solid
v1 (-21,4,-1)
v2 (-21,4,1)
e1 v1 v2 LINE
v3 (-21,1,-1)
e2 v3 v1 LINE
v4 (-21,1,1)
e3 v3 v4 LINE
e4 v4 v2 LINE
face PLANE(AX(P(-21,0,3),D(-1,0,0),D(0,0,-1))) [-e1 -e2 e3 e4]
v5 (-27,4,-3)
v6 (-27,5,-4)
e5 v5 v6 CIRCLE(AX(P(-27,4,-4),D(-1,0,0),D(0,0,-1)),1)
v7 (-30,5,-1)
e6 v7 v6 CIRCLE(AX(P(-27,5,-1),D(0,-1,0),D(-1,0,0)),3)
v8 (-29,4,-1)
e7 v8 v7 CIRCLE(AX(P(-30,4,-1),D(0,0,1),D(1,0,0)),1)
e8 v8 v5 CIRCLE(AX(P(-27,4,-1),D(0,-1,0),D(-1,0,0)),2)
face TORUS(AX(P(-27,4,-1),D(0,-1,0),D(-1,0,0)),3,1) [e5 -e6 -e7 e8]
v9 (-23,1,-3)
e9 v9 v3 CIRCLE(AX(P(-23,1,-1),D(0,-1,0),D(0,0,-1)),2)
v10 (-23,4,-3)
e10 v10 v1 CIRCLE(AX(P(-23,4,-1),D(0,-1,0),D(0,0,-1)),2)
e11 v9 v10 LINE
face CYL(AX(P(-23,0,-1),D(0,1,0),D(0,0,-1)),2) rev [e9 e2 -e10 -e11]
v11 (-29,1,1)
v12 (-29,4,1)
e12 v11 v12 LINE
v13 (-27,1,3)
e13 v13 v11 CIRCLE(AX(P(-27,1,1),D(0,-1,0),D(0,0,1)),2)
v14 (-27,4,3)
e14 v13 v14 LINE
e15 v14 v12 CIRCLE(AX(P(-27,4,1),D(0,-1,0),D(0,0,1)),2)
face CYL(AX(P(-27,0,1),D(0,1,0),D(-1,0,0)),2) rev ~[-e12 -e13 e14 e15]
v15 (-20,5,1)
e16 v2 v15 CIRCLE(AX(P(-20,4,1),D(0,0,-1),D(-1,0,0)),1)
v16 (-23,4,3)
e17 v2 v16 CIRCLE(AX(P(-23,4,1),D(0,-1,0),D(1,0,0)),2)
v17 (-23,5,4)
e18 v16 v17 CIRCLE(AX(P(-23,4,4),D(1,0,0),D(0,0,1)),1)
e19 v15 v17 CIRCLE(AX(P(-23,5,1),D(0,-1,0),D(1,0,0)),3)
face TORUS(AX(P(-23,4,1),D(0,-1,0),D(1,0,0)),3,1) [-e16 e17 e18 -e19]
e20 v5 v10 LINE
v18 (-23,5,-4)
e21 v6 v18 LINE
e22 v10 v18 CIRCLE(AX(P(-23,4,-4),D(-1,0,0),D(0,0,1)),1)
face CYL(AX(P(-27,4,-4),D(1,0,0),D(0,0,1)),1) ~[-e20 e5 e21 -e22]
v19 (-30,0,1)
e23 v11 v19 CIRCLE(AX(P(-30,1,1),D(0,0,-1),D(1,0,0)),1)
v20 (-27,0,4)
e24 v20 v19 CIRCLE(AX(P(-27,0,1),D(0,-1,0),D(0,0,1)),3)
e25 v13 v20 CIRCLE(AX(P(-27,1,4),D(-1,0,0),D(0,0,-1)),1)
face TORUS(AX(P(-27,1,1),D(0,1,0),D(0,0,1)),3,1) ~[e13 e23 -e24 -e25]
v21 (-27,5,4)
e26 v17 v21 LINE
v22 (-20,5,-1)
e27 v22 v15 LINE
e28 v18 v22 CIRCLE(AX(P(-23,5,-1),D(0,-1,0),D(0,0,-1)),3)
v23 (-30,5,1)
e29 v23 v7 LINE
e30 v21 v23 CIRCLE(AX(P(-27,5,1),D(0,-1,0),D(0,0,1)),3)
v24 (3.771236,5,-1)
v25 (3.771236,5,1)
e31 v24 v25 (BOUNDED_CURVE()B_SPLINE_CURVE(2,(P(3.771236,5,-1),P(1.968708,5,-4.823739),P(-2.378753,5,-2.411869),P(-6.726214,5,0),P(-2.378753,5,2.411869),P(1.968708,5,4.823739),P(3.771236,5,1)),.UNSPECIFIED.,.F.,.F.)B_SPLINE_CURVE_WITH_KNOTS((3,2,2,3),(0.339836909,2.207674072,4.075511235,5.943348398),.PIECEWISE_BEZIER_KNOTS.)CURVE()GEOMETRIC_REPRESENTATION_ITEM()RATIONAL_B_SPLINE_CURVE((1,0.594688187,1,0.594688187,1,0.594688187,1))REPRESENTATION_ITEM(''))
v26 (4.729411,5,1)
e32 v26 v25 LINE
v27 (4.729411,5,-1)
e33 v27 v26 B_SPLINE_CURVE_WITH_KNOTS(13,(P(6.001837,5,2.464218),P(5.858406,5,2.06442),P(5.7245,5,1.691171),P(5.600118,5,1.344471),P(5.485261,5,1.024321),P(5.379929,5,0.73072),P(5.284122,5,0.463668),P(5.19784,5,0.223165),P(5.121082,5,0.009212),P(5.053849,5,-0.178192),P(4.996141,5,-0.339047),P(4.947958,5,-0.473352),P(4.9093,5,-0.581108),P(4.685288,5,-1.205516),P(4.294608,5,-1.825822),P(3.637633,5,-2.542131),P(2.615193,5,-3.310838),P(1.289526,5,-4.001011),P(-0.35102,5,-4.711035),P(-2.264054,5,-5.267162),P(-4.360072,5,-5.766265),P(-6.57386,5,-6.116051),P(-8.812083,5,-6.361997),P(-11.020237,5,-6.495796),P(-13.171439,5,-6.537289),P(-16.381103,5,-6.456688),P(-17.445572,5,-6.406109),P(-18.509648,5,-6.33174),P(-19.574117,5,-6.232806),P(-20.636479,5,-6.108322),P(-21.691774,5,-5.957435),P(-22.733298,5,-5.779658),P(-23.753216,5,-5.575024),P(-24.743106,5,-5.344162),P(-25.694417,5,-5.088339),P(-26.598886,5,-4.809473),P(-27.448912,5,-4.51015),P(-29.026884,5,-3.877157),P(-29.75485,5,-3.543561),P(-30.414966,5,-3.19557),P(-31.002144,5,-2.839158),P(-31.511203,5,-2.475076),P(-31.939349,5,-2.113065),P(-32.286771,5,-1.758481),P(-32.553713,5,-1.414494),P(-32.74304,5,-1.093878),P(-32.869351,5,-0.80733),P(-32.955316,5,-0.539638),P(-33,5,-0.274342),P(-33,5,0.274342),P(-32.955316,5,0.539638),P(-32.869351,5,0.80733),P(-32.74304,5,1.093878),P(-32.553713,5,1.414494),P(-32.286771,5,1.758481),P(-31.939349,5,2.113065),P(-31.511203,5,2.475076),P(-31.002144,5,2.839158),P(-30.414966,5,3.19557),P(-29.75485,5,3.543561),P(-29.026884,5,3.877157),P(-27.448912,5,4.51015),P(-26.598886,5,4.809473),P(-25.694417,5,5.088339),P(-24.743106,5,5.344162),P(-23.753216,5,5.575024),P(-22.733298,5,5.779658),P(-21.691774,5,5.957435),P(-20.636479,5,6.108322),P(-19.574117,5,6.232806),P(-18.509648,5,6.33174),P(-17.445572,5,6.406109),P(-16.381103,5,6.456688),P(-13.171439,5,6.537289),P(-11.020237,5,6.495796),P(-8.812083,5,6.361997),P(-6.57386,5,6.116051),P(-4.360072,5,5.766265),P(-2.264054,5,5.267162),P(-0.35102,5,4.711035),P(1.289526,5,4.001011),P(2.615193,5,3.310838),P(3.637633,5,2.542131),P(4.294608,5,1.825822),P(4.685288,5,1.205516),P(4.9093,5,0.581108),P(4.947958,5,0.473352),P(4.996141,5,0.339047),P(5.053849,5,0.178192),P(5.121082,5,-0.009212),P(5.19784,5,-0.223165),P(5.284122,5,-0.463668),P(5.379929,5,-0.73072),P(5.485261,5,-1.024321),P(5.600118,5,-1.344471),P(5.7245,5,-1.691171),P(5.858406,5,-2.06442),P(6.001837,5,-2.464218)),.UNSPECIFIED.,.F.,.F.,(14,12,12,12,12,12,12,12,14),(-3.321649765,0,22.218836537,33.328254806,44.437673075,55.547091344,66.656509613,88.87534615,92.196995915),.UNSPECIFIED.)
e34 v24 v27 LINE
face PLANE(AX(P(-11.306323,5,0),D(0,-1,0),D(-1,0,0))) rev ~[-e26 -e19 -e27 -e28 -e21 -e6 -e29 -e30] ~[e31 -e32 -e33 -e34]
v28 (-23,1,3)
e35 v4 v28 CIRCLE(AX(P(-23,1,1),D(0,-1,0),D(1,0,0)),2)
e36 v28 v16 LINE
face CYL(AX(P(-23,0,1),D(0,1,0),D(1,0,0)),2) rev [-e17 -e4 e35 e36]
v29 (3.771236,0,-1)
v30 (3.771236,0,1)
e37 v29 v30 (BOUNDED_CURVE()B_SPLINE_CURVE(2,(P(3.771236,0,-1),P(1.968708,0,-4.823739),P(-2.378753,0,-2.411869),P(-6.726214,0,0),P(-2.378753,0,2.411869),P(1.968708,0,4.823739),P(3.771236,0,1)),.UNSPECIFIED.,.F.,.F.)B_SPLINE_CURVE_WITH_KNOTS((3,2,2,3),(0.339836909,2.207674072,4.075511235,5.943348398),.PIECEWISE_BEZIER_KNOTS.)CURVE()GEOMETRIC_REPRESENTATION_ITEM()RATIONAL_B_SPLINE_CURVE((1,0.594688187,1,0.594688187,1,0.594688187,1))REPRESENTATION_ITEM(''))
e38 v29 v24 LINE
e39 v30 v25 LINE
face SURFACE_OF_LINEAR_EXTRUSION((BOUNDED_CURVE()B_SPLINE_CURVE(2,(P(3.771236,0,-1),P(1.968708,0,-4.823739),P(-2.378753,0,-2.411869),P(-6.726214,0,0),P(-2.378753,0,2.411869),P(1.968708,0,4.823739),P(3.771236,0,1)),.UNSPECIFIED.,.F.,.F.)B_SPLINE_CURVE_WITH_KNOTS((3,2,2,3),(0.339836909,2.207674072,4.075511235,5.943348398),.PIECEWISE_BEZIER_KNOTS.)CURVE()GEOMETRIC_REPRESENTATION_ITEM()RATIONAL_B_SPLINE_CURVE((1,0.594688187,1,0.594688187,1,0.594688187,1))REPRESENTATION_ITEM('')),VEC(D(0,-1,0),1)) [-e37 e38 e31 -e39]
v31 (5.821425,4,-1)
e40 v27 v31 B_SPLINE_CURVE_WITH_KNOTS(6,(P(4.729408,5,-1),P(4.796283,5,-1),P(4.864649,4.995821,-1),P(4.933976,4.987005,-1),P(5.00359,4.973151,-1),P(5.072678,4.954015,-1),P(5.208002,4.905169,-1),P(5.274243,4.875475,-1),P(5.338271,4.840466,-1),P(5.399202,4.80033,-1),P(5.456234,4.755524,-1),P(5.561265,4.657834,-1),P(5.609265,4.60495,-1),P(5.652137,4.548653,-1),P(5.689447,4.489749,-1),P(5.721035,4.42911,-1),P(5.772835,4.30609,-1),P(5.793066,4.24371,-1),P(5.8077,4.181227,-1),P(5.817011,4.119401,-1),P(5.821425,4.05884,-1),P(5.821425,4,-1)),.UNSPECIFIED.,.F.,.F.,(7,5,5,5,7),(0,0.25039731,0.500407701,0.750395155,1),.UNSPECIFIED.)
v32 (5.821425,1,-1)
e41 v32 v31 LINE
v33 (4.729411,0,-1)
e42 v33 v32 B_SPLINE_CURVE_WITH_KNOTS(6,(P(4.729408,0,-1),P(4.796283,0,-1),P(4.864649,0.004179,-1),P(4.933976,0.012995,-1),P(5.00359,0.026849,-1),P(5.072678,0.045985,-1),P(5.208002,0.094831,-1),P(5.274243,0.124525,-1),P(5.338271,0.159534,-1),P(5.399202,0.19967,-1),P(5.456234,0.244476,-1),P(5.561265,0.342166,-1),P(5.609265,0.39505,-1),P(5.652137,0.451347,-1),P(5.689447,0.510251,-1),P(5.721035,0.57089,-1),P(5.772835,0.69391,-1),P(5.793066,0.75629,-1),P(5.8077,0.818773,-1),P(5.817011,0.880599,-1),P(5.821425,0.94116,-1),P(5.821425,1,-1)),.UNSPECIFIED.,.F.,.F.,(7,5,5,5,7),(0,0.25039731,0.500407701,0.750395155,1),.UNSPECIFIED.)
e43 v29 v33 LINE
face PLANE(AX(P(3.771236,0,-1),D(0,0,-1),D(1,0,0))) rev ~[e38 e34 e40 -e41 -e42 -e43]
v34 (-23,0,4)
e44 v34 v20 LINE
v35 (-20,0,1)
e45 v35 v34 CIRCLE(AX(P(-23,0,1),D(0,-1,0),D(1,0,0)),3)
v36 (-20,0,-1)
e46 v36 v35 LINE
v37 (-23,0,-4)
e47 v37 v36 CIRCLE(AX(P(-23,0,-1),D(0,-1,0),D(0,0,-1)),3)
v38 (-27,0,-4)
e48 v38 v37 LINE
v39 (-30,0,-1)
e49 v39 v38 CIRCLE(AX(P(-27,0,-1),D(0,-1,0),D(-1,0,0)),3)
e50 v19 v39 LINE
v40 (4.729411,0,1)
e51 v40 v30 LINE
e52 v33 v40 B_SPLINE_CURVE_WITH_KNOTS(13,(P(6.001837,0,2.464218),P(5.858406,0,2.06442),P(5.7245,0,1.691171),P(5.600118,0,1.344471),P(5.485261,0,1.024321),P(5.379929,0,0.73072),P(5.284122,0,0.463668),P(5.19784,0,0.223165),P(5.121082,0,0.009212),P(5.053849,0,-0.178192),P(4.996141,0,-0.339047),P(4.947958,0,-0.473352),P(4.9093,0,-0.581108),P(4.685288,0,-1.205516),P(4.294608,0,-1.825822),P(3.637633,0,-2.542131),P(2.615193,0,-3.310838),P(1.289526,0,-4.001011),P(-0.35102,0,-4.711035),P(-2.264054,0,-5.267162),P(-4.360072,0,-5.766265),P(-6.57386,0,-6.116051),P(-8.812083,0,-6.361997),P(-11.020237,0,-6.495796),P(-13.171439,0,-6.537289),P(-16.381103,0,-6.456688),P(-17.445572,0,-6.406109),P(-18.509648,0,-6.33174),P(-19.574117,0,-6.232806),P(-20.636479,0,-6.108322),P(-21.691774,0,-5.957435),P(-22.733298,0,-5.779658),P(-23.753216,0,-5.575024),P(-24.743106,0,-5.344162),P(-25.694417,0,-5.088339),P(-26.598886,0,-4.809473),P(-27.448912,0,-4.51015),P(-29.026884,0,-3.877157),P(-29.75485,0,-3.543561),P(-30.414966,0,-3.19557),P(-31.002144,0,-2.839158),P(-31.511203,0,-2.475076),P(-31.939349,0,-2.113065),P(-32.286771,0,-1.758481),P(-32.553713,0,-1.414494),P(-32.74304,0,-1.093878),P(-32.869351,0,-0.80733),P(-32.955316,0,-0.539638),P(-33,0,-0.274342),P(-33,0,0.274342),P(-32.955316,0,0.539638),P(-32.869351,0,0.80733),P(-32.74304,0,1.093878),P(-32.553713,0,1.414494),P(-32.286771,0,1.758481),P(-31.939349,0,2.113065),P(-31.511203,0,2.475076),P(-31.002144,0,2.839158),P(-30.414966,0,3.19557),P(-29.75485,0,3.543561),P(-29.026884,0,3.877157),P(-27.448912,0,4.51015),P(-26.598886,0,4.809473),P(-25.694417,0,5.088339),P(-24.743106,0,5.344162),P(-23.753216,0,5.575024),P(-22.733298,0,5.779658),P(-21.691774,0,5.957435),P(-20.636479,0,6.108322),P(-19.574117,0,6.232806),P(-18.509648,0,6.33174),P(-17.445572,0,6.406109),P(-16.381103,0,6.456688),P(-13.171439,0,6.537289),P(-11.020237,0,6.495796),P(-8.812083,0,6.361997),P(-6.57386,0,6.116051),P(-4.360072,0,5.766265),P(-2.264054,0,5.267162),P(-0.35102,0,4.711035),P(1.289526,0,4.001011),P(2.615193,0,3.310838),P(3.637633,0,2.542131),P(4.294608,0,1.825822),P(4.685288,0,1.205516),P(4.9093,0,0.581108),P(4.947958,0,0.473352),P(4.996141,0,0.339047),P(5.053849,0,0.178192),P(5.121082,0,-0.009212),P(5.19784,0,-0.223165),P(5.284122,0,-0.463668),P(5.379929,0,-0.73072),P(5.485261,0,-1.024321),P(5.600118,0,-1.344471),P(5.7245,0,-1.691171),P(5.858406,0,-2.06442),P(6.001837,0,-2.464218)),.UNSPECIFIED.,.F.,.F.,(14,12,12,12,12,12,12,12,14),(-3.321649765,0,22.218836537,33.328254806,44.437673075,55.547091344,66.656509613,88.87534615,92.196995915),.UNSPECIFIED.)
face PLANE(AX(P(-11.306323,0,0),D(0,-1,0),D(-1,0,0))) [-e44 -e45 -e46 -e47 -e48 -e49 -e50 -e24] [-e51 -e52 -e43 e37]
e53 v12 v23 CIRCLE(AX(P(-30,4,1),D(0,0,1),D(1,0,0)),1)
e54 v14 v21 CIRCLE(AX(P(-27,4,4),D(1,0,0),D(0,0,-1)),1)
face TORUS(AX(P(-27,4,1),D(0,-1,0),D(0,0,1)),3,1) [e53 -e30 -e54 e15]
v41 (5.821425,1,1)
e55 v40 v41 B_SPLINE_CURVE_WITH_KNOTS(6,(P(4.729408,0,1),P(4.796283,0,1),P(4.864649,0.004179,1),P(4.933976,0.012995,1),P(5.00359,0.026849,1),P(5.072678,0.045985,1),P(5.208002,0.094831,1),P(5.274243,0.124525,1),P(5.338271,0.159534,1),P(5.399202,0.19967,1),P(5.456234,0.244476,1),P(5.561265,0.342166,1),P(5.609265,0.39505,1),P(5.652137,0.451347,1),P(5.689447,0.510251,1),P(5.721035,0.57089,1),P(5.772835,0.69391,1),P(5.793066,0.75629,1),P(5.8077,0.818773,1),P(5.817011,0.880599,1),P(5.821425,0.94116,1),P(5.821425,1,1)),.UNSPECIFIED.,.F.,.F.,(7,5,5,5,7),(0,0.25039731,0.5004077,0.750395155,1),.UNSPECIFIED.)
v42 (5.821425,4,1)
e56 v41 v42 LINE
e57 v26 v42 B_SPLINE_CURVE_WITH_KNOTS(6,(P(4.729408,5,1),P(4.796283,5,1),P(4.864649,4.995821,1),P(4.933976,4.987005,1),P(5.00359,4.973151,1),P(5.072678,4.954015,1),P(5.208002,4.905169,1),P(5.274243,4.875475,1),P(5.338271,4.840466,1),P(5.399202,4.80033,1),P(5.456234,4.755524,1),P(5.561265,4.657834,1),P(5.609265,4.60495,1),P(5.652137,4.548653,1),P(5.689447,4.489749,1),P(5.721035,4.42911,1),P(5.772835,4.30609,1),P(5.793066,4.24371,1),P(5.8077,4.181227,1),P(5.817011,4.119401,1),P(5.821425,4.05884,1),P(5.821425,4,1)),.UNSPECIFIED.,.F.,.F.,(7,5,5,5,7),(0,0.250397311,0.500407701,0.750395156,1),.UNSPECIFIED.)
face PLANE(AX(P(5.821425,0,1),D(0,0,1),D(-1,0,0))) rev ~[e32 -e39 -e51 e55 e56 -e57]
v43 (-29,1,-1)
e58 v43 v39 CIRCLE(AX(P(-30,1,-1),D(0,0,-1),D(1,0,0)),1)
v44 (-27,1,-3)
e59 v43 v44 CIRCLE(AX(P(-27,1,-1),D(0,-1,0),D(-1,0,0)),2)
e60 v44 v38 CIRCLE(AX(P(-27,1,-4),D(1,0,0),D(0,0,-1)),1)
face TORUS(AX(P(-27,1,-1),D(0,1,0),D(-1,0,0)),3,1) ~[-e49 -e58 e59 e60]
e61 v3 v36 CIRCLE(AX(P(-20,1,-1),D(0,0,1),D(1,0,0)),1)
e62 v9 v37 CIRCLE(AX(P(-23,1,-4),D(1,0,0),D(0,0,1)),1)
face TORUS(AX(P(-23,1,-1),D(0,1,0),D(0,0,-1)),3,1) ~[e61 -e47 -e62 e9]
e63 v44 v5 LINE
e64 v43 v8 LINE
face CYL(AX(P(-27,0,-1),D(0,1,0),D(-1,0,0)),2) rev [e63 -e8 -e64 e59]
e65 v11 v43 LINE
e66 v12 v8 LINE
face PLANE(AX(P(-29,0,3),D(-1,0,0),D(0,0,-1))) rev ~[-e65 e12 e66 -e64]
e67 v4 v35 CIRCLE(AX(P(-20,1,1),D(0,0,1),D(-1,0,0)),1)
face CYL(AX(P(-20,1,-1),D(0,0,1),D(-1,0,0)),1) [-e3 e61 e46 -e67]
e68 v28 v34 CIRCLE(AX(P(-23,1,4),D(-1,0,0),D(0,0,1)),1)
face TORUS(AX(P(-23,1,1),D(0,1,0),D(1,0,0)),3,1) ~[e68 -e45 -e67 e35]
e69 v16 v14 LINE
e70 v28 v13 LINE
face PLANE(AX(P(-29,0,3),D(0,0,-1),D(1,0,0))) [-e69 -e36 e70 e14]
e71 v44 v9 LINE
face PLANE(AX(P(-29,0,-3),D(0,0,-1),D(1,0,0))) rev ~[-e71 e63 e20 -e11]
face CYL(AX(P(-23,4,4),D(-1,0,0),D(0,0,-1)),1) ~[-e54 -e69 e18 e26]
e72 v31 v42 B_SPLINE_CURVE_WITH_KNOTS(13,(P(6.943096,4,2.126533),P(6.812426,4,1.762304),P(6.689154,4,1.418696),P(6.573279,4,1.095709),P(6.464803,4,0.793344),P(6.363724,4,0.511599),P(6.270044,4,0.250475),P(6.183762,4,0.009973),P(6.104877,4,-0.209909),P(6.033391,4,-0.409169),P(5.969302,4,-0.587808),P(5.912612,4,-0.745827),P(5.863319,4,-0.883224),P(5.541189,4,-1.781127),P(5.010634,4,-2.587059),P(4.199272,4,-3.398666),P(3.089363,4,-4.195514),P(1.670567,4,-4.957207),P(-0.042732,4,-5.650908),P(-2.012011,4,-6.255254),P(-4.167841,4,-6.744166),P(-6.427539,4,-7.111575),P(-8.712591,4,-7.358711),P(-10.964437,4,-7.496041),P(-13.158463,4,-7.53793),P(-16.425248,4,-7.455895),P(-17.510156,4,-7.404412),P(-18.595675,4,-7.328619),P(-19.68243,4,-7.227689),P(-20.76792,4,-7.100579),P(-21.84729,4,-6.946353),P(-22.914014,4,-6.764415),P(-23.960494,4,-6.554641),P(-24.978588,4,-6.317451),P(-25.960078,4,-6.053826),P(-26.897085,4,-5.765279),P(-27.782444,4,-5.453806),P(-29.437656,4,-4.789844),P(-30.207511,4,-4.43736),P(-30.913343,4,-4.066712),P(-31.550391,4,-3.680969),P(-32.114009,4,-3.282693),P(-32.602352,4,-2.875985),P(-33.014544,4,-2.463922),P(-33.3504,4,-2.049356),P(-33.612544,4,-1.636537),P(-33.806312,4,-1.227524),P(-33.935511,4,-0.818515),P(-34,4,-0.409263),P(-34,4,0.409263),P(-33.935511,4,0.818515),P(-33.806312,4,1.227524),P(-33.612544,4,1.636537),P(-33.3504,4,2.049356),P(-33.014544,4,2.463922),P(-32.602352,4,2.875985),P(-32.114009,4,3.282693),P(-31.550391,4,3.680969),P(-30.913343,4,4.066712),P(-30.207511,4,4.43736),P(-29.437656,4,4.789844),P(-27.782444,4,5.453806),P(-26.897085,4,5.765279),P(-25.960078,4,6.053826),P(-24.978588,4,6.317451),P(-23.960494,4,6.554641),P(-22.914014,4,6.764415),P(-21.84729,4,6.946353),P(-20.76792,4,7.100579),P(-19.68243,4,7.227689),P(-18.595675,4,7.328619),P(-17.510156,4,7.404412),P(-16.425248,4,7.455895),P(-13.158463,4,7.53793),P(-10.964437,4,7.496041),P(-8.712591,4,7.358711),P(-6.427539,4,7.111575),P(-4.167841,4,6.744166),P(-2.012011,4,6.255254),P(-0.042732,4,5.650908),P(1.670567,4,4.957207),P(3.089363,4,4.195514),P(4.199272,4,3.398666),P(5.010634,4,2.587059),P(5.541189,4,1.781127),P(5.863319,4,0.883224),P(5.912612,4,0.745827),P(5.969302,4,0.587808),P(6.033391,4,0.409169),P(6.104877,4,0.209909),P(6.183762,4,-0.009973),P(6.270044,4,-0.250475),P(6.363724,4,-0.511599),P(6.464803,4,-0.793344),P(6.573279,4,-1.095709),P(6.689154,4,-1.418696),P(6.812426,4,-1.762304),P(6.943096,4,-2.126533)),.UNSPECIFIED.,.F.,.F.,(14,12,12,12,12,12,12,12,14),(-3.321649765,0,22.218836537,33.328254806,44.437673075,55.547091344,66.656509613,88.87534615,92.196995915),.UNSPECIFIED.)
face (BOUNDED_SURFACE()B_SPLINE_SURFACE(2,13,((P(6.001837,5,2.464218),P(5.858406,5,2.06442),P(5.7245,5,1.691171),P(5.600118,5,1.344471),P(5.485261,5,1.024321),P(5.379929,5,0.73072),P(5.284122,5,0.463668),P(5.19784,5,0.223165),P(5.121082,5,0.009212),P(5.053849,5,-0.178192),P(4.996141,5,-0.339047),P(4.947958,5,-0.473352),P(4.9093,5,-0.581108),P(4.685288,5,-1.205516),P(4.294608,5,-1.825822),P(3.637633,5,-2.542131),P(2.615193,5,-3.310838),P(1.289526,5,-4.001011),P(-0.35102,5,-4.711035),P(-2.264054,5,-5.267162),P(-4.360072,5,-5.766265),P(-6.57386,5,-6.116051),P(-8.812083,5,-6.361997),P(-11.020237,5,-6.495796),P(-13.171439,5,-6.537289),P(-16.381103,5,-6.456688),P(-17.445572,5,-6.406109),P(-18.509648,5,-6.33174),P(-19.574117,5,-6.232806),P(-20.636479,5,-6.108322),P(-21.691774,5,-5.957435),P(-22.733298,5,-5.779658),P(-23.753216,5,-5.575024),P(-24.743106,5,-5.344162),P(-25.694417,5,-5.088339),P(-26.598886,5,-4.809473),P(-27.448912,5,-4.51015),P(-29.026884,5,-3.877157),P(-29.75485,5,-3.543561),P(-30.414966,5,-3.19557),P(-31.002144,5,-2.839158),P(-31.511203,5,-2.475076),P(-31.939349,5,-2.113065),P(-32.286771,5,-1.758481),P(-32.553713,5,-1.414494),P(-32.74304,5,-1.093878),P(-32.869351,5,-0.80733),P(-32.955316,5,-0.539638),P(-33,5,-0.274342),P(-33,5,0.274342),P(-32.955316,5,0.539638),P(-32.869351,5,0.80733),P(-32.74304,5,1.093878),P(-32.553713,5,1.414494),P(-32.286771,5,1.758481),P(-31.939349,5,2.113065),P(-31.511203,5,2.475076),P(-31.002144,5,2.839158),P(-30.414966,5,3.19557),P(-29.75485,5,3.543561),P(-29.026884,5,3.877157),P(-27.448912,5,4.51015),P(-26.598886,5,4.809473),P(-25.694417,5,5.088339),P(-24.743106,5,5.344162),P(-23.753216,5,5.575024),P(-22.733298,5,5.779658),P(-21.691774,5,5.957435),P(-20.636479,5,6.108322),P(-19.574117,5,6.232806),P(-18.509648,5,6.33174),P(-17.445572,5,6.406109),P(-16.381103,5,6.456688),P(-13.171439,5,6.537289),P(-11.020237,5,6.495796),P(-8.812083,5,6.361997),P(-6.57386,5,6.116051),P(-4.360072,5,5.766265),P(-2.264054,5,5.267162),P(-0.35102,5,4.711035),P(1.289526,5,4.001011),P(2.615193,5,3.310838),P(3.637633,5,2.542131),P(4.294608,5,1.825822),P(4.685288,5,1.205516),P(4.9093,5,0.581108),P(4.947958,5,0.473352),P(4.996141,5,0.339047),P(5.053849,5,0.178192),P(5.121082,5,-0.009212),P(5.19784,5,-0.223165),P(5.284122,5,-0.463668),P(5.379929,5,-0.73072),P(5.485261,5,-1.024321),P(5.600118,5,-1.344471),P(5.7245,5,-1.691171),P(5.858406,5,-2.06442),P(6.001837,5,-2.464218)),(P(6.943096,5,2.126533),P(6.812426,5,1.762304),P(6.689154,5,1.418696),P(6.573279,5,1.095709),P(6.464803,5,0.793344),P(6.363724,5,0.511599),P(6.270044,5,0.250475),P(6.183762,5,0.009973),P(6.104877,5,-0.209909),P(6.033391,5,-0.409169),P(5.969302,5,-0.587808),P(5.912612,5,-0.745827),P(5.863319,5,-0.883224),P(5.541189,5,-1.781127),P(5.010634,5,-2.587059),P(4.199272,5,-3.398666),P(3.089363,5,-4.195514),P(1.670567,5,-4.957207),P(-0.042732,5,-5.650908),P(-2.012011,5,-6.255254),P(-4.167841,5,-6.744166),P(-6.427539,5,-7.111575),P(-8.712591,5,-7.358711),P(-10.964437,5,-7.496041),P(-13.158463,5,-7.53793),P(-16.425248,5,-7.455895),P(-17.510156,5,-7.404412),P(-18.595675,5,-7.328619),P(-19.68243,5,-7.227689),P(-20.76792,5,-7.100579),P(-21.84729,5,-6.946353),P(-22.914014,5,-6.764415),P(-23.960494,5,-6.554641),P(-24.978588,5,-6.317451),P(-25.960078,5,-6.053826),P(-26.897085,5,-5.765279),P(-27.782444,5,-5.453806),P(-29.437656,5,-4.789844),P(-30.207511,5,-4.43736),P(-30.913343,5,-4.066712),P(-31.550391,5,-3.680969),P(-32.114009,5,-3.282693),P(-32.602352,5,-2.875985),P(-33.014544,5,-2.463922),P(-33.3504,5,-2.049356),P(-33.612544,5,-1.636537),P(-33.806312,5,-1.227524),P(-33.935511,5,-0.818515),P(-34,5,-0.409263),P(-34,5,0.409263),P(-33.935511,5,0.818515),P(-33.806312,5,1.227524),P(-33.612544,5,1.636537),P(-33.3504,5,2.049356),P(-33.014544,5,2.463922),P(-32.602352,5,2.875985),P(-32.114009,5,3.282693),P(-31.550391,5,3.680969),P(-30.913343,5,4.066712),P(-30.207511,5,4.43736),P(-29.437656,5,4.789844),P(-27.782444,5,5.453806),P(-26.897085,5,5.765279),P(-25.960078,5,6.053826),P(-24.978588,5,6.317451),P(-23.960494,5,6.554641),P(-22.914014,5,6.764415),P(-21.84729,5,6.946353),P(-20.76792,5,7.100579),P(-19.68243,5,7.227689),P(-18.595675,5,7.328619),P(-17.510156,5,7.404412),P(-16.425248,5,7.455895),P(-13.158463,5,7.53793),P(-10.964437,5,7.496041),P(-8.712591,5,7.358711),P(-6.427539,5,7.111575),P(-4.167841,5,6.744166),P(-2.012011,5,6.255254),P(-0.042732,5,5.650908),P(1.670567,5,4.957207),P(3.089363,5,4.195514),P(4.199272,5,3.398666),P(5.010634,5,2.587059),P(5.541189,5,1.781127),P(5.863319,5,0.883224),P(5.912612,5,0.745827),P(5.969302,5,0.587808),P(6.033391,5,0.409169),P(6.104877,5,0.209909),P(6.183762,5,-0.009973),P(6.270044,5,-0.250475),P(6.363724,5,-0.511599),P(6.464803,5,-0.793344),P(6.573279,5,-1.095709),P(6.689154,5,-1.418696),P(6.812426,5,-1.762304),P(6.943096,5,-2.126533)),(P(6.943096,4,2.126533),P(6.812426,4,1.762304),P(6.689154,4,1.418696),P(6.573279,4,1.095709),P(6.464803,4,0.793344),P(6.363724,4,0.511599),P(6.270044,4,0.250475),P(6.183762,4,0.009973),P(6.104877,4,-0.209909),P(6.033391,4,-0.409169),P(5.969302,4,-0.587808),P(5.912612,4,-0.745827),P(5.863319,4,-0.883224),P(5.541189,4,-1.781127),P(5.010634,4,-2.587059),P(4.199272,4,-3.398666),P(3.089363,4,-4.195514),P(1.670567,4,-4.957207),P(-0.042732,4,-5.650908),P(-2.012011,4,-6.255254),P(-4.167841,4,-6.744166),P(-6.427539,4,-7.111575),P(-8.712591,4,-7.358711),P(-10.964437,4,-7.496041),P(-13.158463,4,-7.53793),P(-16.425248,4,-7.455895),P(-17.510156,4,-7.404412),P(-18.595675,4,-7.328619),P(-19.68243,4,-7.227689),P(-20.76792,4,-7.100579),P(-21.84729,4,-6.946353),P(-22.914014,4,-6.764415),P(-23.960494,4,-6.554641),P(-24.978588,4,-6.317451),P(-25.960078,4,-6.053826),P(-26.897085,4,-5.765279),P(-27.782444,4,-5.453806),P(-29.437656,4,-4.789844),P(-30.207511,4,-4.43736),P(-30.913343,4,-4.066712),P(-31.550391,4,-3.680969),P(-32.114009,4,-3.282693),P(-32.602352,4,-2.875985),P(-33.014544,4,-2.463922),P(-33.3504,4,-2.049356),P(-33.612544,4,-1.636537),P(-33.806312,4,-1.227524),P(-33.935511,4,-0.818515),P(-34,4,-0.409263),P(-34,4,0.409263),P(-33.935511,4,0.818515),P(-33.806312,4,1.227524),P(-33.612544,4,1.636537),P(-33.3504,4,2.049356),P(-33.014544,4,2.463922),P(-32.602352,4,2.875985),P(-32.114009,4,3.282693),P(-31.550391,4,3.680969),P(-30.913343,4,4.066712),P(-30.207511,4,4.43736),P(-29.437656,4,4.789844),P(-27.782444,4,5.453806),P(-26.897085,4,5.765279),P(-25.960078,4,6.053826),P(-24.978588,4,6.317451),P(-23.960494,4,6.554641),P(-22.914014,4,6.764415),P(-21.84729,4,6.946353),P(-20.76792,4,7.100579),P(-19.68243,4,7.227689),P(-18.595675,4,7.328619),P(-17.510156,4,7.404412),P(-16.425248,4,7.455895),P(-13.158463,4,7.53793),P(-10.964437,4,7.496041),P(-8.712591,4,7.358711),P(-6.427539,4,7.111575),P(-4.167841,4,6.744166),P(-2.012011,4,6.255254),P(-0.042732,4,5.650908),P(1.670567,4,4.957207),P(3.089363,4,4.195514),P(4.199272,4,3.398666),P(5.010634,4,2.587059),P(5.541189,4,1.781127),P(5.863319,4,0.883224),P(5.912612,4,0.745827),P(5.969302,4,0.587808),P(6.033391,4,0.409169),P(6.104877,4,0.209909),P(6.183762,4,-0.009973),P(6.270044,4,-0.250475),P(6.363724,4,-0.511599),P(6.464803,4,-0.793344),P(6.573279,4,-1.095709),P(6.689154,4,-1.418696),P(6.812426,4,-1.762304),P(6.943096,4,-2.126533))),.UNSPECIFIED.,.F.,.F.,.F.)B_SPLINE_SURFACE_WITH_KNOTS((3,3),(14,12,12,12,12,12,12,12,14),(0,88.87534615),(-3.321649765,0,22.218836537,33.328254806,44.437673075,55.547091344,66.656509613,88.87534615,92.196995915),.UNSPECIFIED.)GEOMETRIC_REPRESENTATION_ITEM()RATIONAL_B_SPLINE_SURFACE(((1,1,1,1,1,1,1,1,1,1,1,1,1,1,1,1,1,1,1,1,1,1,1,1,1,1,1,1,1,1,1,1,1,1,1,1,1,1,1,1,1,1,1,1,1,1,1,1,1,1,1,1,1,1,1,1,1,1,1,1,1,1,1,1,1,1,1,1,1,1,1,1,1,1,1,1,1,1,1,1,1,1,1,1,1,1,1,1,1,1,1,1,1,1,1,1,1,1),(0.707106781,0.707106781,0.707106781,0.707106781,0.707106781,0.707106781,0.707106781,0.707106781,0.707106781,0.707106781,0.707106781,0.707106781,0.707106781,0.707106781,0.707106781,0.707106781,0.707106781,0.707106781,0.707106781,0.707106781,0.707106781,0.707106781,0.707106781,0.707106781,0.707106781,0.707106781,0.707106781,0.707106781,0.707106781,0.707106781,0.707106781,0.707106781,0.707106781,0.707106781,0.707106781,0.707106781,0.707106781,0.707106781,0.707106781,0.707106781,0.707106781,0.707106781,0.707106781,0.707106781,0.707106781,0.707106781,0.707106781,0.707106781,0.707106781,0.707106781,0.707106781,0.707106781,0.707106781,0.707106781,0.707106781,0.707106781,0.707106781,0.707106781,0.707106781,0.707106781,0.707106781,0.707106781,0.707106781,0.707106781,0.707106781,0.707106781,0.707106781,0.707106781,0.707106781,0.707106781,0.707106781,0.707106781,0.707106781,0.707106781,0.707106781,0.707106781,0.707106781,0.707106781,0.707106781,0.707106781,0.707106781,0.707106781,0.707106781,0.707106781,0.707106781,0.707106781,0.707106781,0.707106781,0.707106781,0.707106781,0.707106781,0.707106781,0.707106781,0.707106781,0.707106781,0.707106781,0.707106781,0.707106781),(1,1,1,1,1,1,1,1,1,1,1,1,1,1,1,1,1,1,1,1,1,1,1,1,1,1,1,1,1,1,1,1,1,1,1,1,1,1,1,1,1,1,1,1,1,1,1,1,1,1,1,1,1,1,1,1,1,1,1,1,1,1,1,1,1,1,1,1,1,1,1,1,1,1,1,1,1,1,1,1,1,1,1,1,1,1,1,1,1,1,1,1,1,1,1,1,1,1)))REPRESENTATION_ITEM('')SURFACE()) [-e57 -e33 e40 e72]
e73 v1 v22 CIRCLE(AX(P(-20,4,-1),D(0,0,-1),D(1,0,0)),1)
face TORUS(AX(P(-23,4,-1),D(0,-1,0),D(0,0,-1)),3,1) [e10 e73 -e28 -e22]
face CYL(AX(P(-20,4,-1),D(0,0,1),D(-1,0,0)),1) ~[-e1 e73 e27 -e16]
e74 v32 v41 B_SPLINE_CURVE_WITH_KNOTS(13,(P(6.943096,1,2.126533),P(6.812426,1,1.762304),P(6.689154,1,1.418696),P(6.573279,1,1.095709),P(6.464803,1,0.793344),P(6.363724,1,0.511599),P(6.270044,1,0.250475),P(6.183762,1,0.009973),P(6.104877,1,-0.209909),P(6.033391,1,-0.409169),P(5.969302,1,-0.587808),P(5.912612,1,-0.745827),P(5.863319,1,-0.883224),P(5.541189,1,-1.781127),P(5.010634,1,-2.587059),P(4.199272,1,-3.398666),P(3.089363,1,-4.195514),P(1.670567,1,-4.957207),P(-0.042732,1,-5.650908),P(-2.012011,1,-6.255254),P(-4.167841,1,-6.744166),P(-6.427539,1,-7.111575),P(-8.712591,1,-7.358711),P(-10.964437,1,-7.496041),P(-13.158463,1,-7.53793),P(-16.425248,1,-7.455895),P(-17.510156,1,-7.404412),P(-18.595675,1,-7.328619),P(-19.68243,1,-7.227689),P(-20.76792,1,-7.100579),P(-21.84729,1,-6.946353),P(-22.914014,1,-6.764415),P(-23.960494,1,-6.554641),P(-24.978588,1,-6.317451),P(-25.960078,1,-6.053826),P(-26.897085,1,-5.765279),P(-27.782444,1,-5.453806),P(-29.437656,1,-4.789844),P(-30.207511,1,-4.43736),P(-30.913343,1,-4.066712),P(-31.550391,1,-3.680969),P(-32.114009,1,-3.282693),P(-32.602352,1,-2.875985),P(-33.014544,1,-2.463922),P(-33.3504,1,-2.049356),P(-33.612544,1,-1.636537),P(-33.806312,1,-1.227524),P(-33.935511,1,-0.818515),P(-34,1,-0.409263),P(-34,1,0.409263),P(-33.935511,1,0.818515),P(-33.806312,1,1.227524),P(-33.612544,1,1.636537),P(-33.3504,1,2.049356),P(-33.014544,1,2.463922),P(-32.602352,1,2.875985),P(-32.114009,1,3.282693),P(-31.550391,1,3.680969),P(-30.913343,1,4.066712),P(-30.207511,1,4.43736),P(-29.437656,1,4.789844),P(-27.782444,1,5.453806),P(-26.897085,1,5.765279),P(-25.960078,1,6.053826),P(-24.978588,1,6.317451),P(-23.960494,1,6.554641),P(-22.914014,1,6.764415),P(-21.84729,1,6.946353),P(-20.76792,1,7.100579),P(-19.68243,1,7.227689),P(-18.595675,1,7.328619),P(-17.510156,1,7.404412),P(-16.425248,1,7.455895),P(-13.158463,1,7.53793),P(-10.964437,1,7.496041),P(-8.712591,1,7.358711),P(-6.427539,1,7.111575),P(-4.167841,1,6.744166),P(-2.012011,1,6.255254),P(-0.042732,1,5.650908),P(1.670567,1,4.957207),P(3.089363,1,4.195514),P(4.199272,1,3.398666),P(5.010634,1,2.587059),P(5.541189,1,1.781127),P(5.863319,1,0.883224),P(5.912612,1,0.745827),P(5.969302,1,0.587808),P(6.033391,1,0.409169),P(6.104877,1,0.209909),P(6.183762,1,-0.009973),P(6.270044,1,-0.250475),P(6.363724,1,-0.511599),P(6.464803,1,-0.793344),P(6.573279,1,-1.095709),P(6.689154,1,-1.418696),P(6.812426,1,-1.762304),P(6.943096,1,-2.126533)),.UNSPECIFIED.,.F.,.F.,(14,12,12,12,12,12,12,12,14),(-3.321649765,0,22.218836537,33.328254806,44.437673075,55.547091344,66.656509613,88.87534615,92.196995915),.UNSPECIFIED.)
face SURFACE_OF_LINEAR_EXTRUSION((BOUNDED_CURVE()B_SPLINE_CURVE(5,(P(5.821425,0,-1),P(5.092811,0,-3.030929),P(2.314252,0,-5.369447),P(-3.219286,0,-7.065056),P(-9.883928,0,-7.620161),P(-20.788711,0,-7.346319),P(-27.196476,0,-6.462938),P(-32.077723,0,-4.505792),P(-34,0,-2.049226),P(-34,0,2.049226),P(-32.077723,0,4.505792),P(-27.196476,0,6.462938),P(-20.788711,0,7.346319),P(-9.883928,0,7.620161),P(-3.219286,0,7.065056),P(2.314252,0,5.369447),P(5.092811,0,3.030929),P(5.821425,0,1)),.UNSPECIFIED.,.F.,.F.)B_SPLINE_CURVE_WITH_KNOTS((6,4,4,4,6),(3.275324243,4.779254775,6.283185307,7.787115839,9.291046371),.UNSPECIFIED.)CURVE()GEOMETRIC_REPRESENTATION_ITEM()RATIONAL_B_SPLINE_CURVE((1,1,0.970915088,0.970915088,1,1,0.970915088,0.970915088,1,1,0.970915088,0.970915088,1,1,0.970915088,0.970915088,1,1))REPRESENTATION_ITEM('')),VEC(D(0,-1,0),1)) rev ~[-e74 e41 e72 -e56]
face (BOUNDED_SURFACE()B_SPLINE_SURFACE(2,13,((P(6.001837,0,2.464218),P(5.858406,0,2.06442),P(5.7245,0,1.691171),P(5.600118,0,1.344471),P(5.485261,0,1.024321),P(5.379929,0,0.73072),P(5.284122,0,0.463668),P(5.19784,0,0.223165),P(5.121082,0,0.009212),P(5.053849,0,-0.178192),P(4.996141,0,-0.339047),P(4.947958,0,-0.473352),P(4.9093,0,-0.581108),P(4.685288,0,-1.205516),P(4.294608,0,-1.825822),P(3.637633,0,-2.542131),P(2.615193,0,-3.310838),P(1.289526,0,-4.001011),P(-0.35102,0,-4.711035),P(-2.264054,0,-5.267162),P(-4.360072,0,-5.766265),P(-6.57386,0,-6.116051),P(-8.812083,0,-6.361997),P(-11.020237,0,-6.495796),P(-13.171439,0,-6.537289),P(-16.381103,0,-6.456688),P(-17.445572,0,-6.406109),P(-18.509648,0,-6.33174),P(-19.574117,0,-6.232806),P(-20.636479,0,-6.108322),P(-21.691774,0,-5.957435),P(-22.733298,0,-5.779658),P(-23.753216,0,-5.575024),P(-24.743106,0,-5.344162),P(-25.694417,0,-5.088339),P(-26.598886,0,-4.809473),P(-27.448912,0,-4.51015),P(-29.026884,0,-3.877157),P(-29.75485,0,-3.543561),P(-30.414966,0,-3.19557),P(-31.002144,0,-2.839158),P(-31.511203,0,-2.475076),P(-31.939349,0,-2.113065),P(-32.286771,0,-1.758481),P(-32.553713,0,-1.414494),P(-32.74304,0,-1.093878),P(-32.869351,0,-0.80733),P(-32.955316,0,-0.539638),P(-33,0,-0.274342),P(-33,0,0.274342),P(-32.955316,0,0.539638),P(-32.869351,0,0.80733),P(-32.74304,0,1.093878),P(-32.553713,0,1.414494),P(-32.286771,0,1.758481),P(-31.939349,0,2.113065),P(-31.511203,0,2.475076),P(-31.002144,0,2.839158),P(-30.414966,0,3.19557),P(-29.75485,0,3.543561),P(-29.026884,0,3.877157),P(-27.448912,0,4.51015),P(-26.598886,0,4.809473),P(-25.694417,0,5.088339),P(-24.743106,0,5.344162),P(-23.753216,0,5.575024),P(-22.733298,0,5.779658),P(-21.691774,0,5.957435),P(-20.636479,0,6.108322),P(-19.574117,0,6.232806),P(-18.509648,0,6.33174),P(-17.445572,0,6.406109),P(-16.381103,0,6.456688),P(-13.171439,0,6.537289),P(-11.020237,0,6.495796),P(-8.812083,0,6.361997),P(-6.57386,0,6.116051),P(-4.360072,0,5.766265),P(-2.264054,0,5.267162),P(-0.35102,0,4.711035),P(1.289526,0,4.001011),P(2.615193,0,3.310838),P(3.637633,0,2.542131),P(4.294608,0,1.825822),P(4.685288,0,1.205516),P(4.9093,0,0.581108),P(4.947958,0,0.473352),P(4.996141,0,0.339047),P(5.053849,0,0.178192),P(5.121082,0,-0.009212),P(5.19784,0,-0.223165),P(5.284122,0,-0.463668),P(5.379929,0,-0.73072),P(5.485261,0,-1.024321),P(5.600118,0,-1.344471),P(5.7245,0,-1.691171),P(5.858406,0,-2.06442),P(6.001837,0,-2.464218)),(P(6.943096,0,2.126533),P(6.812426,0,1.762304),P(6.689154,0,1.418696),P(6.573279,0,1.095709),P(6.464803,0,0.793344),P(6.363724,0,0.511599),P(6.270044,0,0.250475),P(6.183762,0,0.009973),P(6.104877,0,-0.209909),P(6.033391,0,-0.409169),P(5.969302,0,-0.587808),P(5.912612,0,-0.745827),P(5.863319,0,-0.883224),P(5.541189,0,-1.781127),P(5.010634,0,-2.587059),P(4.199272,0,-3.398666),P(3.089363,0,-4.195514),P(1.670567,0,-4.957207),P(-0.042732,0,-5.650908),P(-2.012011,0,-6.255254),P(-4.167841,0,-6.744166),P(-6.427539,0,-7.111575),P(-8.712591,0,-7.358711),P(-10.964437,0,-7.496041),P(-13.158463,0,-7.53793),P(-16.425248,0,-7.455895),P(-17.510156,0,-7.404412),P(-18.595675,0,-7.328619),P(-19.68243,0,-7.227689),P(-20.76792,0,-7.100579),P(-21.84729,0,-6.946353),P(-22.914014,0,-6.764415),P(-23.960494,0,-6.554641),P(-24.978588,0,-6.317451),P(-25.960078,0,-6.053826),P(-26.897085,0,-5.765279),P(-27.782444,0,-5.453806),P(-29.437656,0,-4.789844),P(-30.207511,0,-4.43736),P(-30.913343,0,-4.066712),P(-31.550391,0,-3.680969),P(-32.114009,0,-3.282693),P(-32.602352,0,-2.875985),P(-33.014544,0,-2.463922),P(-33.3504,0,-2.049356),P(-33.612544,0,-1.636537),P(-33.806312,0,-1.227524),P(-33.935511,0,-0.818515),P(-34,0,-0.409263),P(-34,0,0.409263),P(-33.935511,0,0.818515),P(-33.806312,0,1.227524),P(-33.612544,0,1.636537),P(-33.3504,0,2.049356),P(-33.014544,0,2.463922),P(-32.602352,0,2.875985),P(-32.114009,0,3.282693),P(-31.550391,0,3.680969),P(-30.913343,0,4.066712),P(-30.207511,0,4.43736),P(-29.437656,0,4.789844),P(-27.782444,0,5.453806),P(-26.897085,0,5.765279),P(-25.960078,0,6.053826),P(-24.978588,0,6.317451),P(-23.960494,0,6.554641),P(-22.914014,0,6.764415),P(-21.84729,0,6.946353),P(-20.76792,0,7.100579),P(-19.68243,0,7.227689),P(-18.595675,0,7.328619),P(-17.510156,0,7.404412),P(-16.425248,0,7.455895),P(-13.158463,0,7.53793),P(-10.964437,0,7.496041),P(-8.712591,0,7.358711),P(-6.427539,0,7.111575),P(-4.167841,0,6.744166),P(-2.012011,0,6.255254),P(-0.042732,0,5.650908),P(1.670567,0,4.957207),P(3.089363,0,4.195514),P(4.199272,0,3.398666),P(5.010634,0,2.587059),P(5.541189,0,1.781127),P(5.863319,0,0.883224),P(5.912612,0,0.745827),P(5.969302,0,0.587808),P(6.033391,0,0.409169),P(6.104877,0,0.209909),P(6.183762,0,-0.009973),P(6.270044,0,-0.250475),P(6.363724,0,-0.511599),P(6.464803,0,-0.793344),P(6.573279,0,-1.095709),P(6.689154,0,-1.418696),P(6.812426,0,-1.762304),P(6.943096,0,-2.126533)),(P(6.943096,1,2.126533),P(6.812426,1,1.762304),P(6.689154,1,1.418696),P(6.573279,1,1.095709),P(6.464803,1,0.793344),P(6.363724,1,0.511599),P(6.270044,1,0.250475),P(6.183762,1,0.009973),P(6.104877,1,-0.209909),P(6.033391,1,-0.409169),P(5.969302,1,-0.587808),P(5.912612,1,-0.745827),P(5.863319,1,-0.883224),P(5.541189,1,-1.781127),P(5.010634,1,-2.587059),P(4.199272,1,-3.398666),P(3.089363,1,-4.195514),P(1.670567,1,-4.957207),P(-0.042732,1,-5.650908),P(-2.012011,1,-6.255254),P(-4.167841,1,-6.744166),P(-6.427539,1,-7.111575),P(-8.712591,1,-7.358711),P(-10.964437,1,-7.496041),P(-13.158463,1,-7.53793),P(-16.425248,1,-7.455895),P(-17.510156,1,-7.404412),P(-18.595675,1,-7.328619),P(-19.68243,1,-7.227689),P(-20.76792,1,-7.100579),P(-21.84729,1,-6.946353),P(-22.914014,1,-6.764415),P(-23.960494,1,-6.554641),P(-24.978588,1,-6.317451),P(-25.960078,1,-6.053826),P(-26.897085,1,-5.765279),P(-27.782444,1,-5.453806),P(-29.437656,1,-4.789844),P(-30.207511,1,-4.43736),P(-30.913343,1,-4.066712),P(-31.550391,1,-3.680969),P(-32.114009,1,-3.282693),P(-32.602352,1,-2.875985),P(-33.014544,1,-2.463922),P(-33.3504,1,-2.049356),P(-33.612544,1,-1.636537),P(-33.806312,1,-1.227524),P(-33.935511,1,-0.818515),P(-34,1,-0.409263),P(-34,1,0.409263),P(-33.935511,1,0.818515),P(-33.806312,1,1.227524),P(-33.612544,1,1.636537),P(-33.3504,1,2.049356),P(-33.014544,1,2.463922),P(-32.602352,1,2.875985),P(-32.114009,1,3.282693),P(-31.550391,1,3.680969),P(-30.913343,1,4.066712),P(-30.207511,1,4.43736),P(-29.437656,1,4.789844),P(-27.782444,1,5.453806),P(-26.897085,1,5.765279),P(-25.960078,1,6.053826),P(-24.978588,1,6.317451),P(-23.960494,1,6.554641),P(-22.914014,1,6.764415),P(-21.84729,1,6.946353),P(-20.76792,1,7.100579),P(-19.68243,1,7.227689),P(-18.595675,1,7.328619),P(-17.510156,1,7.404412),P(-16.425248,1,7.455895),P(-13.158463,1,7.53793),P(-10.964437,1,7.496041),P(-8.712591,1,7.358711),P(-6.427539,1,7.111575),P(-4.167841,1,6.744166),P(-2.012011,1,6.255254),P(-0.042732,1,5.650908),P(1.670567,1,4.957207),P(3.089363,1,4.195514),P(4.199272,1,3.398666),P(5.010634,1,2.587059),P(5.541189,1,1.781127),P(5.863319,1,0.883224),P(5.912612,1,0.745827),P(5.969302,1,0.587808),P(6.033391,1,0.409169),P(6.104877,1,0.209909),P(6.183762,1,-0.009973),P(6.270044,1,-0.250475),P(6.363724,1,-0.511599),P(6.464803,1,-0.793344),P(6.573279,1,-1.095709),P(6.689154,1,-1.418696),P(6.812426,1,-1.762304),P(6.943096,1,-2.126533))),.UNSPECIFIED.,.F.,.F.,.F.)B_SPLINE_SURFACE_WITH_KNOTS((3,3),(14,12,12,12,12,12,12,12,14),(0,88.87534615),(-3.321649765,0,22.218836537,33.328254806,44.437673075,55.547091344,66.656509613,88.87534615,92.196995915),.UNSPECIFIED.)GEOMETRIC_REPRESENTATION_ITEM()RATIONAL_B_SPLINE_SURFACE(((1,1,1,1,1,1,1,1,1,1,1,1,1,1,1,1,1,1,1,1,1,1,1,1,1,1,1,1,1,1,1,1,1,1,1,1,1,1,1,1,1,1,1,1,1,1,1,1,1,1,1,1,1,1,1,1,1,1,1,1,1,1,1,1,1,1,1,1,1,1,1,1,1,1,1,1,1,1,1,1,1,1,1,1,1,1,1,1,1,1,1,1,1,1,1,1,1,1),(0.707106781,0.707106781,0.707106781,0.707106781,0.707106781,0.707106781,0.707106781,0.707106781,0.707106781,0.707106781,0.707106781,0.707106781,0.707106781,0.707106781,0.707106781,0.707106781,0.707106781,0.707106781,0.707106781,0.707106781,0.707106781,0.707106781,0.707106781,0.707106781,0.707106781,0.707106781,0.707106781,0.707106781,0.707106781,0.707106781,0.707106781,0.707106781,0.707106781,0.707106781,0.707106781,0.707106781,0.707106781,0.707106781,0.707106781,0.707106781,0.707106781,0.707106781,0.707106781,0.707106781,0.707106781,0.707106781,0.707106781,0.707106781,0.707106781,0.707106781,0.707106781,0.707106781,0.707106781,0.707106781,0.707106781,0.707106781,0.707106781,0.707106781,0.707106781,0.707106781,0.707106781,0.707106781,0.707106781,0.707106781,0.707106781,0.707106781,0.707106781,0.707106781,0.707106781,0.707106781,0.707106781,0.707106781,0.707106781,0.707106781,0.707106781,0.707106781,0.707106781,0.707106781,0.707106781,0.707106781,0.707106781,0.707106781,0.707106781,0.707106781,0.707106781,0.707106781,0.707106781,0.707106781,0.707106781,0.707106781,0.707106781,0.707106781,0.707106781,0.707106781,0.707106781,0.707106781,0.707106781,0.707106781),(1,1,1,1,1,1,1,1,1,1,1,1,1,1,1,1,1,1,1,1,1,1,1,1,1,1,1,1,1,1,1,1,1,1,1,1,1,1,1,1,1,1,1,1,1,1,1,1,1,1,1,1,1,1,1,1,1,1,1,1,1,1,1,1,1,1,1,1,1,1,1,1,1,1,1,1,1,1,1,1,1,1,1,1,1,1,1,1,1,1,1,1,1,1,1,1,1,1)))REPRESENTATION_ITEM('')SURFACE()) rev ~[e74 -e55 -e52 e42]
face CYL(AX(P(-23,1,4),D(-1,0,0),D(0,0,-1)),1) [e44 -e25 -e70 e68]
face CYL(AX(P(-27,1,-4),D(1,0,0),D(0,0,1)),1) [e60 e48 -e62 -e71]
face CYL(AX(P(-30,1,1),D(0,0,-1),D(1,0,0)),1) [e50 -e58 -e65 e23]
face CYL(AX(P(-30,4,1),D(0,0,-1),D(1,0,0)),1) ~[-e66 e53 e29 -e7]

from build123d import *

# Parameters (mm, degrees)
SKETCH_1_W      = 8
SKETCH_1_H      = 6
EXTRUDE_1_DEPTH = 5
FILLET_1_R      = 2
FILLET_2_R      = 1


with BuildPart() as part:
    # 草图1 → 凸台-拉伸1 (new body)
    with BuildSketch(Plane(origin=(0, 0, 0), x_dir=(1, 0, 0), z_dir=(0, 1, 0))):
        with BuildLine():
            add(Edge.make_bspline(
                [(3.771236166, 1), (1.968708481, 4.823738649), (-2.37875275, 2.411869324), (-6.72621398, 0), (-2.37875275, -2.411869324), (1.968708481, -4.823738649), (3.771236166, -1)],
                knots=[0.339836909, 0.339836909, 0.339836909, 2.207674072, 2.207674072, 4.075511235, 4.075511235, 5.943348398, 5.943348398, 5.943348398], degree=2, weights=[1, 0.594688187, 1, 0.594688187, 1, 0.594688187, 1]))
            Line((3.771236166, 1), (5.821424996, 1))
            add(Edge.make_bspline(
                [(5.821424996, 1), (3.327360828, 7.95192426), (-15.336319586, 7.483239867), (-34, 7.014555473), (-34, 0)],
                knots=[3.275324243, 3.275324243, 3.275324243, 4.779254775, 4.779254775, 6.283185307, 6.283185307, 6.283185307], degree=2, weights=[1, 0.730347855, 1, 0.730347855, 1]))
            add(Edge.make_bspline(
                [(-34, 0), (-34, -7.014555473), (-15.336319586, -7.483239867), (3.327360828, -7.95192426), (5.821424996, -1)],
                knots=[0, 0, 0, 1.503930532, 1.503930532, 3.007861064, 3.007861064, 3.007861064], degree=2, weights=[1, 0.730347855, 1, 0.730347855, 1]))
            Line((5.821424996, -1), (3.771236166, -1))
        make_face()
        with Locations((-25, 0)):
            Rectangle(SKETCH_1_W, SKETCH_1_H, mode=Mode.SUBTRACT)
    extrude(amount=EXTRUDE_1_DEPTH)

    # 圆角1
    fillet_1_edges = [part.edges().sort_by_distance(p)[0] for p in [
        (-21, 2.5, 3),
        (-21, 2.5, -3),
        (-29, 2.5, -3),
        (-29, 2.5, 3),
    ]]
    fillet(fillet_1_edges, radius=FILLET_1_R)

    # 圆角2
    fillet_2_edges = [part.edges().sort_by_distance(p)[0] for p in [
        (-14.510444937, 0, 7.497556908),
        (-29, 0, 0),
        (-29, 5, 0),
        (-25, 0, 3),
        (-25, 5, 3),
        (-21, 0, 0),
        (-21, 5, 0),
        (-25, 0, -3),
        (-25, 5, -3),
        (-14.510444937, 5, 7.497556908),
        (-28.414213562, 0, 2.414213562),
        (-28.414213562, 5, 2.414213562),
        (-21.585786438, 0, 2.414213562),
        (-21.585786438, 5, 2.414213562),
        (-21.585786438, 0, -2.414213562),
        (-21.585786438, 5, -2.414213562),
        (-28.414213562, 0, -2.414213562),
        (-28.414213562, 5, -2.414213562),
    ]]
    fillet(fillet_2_edges, radius=FILLET_2_R)


solid = part.part
